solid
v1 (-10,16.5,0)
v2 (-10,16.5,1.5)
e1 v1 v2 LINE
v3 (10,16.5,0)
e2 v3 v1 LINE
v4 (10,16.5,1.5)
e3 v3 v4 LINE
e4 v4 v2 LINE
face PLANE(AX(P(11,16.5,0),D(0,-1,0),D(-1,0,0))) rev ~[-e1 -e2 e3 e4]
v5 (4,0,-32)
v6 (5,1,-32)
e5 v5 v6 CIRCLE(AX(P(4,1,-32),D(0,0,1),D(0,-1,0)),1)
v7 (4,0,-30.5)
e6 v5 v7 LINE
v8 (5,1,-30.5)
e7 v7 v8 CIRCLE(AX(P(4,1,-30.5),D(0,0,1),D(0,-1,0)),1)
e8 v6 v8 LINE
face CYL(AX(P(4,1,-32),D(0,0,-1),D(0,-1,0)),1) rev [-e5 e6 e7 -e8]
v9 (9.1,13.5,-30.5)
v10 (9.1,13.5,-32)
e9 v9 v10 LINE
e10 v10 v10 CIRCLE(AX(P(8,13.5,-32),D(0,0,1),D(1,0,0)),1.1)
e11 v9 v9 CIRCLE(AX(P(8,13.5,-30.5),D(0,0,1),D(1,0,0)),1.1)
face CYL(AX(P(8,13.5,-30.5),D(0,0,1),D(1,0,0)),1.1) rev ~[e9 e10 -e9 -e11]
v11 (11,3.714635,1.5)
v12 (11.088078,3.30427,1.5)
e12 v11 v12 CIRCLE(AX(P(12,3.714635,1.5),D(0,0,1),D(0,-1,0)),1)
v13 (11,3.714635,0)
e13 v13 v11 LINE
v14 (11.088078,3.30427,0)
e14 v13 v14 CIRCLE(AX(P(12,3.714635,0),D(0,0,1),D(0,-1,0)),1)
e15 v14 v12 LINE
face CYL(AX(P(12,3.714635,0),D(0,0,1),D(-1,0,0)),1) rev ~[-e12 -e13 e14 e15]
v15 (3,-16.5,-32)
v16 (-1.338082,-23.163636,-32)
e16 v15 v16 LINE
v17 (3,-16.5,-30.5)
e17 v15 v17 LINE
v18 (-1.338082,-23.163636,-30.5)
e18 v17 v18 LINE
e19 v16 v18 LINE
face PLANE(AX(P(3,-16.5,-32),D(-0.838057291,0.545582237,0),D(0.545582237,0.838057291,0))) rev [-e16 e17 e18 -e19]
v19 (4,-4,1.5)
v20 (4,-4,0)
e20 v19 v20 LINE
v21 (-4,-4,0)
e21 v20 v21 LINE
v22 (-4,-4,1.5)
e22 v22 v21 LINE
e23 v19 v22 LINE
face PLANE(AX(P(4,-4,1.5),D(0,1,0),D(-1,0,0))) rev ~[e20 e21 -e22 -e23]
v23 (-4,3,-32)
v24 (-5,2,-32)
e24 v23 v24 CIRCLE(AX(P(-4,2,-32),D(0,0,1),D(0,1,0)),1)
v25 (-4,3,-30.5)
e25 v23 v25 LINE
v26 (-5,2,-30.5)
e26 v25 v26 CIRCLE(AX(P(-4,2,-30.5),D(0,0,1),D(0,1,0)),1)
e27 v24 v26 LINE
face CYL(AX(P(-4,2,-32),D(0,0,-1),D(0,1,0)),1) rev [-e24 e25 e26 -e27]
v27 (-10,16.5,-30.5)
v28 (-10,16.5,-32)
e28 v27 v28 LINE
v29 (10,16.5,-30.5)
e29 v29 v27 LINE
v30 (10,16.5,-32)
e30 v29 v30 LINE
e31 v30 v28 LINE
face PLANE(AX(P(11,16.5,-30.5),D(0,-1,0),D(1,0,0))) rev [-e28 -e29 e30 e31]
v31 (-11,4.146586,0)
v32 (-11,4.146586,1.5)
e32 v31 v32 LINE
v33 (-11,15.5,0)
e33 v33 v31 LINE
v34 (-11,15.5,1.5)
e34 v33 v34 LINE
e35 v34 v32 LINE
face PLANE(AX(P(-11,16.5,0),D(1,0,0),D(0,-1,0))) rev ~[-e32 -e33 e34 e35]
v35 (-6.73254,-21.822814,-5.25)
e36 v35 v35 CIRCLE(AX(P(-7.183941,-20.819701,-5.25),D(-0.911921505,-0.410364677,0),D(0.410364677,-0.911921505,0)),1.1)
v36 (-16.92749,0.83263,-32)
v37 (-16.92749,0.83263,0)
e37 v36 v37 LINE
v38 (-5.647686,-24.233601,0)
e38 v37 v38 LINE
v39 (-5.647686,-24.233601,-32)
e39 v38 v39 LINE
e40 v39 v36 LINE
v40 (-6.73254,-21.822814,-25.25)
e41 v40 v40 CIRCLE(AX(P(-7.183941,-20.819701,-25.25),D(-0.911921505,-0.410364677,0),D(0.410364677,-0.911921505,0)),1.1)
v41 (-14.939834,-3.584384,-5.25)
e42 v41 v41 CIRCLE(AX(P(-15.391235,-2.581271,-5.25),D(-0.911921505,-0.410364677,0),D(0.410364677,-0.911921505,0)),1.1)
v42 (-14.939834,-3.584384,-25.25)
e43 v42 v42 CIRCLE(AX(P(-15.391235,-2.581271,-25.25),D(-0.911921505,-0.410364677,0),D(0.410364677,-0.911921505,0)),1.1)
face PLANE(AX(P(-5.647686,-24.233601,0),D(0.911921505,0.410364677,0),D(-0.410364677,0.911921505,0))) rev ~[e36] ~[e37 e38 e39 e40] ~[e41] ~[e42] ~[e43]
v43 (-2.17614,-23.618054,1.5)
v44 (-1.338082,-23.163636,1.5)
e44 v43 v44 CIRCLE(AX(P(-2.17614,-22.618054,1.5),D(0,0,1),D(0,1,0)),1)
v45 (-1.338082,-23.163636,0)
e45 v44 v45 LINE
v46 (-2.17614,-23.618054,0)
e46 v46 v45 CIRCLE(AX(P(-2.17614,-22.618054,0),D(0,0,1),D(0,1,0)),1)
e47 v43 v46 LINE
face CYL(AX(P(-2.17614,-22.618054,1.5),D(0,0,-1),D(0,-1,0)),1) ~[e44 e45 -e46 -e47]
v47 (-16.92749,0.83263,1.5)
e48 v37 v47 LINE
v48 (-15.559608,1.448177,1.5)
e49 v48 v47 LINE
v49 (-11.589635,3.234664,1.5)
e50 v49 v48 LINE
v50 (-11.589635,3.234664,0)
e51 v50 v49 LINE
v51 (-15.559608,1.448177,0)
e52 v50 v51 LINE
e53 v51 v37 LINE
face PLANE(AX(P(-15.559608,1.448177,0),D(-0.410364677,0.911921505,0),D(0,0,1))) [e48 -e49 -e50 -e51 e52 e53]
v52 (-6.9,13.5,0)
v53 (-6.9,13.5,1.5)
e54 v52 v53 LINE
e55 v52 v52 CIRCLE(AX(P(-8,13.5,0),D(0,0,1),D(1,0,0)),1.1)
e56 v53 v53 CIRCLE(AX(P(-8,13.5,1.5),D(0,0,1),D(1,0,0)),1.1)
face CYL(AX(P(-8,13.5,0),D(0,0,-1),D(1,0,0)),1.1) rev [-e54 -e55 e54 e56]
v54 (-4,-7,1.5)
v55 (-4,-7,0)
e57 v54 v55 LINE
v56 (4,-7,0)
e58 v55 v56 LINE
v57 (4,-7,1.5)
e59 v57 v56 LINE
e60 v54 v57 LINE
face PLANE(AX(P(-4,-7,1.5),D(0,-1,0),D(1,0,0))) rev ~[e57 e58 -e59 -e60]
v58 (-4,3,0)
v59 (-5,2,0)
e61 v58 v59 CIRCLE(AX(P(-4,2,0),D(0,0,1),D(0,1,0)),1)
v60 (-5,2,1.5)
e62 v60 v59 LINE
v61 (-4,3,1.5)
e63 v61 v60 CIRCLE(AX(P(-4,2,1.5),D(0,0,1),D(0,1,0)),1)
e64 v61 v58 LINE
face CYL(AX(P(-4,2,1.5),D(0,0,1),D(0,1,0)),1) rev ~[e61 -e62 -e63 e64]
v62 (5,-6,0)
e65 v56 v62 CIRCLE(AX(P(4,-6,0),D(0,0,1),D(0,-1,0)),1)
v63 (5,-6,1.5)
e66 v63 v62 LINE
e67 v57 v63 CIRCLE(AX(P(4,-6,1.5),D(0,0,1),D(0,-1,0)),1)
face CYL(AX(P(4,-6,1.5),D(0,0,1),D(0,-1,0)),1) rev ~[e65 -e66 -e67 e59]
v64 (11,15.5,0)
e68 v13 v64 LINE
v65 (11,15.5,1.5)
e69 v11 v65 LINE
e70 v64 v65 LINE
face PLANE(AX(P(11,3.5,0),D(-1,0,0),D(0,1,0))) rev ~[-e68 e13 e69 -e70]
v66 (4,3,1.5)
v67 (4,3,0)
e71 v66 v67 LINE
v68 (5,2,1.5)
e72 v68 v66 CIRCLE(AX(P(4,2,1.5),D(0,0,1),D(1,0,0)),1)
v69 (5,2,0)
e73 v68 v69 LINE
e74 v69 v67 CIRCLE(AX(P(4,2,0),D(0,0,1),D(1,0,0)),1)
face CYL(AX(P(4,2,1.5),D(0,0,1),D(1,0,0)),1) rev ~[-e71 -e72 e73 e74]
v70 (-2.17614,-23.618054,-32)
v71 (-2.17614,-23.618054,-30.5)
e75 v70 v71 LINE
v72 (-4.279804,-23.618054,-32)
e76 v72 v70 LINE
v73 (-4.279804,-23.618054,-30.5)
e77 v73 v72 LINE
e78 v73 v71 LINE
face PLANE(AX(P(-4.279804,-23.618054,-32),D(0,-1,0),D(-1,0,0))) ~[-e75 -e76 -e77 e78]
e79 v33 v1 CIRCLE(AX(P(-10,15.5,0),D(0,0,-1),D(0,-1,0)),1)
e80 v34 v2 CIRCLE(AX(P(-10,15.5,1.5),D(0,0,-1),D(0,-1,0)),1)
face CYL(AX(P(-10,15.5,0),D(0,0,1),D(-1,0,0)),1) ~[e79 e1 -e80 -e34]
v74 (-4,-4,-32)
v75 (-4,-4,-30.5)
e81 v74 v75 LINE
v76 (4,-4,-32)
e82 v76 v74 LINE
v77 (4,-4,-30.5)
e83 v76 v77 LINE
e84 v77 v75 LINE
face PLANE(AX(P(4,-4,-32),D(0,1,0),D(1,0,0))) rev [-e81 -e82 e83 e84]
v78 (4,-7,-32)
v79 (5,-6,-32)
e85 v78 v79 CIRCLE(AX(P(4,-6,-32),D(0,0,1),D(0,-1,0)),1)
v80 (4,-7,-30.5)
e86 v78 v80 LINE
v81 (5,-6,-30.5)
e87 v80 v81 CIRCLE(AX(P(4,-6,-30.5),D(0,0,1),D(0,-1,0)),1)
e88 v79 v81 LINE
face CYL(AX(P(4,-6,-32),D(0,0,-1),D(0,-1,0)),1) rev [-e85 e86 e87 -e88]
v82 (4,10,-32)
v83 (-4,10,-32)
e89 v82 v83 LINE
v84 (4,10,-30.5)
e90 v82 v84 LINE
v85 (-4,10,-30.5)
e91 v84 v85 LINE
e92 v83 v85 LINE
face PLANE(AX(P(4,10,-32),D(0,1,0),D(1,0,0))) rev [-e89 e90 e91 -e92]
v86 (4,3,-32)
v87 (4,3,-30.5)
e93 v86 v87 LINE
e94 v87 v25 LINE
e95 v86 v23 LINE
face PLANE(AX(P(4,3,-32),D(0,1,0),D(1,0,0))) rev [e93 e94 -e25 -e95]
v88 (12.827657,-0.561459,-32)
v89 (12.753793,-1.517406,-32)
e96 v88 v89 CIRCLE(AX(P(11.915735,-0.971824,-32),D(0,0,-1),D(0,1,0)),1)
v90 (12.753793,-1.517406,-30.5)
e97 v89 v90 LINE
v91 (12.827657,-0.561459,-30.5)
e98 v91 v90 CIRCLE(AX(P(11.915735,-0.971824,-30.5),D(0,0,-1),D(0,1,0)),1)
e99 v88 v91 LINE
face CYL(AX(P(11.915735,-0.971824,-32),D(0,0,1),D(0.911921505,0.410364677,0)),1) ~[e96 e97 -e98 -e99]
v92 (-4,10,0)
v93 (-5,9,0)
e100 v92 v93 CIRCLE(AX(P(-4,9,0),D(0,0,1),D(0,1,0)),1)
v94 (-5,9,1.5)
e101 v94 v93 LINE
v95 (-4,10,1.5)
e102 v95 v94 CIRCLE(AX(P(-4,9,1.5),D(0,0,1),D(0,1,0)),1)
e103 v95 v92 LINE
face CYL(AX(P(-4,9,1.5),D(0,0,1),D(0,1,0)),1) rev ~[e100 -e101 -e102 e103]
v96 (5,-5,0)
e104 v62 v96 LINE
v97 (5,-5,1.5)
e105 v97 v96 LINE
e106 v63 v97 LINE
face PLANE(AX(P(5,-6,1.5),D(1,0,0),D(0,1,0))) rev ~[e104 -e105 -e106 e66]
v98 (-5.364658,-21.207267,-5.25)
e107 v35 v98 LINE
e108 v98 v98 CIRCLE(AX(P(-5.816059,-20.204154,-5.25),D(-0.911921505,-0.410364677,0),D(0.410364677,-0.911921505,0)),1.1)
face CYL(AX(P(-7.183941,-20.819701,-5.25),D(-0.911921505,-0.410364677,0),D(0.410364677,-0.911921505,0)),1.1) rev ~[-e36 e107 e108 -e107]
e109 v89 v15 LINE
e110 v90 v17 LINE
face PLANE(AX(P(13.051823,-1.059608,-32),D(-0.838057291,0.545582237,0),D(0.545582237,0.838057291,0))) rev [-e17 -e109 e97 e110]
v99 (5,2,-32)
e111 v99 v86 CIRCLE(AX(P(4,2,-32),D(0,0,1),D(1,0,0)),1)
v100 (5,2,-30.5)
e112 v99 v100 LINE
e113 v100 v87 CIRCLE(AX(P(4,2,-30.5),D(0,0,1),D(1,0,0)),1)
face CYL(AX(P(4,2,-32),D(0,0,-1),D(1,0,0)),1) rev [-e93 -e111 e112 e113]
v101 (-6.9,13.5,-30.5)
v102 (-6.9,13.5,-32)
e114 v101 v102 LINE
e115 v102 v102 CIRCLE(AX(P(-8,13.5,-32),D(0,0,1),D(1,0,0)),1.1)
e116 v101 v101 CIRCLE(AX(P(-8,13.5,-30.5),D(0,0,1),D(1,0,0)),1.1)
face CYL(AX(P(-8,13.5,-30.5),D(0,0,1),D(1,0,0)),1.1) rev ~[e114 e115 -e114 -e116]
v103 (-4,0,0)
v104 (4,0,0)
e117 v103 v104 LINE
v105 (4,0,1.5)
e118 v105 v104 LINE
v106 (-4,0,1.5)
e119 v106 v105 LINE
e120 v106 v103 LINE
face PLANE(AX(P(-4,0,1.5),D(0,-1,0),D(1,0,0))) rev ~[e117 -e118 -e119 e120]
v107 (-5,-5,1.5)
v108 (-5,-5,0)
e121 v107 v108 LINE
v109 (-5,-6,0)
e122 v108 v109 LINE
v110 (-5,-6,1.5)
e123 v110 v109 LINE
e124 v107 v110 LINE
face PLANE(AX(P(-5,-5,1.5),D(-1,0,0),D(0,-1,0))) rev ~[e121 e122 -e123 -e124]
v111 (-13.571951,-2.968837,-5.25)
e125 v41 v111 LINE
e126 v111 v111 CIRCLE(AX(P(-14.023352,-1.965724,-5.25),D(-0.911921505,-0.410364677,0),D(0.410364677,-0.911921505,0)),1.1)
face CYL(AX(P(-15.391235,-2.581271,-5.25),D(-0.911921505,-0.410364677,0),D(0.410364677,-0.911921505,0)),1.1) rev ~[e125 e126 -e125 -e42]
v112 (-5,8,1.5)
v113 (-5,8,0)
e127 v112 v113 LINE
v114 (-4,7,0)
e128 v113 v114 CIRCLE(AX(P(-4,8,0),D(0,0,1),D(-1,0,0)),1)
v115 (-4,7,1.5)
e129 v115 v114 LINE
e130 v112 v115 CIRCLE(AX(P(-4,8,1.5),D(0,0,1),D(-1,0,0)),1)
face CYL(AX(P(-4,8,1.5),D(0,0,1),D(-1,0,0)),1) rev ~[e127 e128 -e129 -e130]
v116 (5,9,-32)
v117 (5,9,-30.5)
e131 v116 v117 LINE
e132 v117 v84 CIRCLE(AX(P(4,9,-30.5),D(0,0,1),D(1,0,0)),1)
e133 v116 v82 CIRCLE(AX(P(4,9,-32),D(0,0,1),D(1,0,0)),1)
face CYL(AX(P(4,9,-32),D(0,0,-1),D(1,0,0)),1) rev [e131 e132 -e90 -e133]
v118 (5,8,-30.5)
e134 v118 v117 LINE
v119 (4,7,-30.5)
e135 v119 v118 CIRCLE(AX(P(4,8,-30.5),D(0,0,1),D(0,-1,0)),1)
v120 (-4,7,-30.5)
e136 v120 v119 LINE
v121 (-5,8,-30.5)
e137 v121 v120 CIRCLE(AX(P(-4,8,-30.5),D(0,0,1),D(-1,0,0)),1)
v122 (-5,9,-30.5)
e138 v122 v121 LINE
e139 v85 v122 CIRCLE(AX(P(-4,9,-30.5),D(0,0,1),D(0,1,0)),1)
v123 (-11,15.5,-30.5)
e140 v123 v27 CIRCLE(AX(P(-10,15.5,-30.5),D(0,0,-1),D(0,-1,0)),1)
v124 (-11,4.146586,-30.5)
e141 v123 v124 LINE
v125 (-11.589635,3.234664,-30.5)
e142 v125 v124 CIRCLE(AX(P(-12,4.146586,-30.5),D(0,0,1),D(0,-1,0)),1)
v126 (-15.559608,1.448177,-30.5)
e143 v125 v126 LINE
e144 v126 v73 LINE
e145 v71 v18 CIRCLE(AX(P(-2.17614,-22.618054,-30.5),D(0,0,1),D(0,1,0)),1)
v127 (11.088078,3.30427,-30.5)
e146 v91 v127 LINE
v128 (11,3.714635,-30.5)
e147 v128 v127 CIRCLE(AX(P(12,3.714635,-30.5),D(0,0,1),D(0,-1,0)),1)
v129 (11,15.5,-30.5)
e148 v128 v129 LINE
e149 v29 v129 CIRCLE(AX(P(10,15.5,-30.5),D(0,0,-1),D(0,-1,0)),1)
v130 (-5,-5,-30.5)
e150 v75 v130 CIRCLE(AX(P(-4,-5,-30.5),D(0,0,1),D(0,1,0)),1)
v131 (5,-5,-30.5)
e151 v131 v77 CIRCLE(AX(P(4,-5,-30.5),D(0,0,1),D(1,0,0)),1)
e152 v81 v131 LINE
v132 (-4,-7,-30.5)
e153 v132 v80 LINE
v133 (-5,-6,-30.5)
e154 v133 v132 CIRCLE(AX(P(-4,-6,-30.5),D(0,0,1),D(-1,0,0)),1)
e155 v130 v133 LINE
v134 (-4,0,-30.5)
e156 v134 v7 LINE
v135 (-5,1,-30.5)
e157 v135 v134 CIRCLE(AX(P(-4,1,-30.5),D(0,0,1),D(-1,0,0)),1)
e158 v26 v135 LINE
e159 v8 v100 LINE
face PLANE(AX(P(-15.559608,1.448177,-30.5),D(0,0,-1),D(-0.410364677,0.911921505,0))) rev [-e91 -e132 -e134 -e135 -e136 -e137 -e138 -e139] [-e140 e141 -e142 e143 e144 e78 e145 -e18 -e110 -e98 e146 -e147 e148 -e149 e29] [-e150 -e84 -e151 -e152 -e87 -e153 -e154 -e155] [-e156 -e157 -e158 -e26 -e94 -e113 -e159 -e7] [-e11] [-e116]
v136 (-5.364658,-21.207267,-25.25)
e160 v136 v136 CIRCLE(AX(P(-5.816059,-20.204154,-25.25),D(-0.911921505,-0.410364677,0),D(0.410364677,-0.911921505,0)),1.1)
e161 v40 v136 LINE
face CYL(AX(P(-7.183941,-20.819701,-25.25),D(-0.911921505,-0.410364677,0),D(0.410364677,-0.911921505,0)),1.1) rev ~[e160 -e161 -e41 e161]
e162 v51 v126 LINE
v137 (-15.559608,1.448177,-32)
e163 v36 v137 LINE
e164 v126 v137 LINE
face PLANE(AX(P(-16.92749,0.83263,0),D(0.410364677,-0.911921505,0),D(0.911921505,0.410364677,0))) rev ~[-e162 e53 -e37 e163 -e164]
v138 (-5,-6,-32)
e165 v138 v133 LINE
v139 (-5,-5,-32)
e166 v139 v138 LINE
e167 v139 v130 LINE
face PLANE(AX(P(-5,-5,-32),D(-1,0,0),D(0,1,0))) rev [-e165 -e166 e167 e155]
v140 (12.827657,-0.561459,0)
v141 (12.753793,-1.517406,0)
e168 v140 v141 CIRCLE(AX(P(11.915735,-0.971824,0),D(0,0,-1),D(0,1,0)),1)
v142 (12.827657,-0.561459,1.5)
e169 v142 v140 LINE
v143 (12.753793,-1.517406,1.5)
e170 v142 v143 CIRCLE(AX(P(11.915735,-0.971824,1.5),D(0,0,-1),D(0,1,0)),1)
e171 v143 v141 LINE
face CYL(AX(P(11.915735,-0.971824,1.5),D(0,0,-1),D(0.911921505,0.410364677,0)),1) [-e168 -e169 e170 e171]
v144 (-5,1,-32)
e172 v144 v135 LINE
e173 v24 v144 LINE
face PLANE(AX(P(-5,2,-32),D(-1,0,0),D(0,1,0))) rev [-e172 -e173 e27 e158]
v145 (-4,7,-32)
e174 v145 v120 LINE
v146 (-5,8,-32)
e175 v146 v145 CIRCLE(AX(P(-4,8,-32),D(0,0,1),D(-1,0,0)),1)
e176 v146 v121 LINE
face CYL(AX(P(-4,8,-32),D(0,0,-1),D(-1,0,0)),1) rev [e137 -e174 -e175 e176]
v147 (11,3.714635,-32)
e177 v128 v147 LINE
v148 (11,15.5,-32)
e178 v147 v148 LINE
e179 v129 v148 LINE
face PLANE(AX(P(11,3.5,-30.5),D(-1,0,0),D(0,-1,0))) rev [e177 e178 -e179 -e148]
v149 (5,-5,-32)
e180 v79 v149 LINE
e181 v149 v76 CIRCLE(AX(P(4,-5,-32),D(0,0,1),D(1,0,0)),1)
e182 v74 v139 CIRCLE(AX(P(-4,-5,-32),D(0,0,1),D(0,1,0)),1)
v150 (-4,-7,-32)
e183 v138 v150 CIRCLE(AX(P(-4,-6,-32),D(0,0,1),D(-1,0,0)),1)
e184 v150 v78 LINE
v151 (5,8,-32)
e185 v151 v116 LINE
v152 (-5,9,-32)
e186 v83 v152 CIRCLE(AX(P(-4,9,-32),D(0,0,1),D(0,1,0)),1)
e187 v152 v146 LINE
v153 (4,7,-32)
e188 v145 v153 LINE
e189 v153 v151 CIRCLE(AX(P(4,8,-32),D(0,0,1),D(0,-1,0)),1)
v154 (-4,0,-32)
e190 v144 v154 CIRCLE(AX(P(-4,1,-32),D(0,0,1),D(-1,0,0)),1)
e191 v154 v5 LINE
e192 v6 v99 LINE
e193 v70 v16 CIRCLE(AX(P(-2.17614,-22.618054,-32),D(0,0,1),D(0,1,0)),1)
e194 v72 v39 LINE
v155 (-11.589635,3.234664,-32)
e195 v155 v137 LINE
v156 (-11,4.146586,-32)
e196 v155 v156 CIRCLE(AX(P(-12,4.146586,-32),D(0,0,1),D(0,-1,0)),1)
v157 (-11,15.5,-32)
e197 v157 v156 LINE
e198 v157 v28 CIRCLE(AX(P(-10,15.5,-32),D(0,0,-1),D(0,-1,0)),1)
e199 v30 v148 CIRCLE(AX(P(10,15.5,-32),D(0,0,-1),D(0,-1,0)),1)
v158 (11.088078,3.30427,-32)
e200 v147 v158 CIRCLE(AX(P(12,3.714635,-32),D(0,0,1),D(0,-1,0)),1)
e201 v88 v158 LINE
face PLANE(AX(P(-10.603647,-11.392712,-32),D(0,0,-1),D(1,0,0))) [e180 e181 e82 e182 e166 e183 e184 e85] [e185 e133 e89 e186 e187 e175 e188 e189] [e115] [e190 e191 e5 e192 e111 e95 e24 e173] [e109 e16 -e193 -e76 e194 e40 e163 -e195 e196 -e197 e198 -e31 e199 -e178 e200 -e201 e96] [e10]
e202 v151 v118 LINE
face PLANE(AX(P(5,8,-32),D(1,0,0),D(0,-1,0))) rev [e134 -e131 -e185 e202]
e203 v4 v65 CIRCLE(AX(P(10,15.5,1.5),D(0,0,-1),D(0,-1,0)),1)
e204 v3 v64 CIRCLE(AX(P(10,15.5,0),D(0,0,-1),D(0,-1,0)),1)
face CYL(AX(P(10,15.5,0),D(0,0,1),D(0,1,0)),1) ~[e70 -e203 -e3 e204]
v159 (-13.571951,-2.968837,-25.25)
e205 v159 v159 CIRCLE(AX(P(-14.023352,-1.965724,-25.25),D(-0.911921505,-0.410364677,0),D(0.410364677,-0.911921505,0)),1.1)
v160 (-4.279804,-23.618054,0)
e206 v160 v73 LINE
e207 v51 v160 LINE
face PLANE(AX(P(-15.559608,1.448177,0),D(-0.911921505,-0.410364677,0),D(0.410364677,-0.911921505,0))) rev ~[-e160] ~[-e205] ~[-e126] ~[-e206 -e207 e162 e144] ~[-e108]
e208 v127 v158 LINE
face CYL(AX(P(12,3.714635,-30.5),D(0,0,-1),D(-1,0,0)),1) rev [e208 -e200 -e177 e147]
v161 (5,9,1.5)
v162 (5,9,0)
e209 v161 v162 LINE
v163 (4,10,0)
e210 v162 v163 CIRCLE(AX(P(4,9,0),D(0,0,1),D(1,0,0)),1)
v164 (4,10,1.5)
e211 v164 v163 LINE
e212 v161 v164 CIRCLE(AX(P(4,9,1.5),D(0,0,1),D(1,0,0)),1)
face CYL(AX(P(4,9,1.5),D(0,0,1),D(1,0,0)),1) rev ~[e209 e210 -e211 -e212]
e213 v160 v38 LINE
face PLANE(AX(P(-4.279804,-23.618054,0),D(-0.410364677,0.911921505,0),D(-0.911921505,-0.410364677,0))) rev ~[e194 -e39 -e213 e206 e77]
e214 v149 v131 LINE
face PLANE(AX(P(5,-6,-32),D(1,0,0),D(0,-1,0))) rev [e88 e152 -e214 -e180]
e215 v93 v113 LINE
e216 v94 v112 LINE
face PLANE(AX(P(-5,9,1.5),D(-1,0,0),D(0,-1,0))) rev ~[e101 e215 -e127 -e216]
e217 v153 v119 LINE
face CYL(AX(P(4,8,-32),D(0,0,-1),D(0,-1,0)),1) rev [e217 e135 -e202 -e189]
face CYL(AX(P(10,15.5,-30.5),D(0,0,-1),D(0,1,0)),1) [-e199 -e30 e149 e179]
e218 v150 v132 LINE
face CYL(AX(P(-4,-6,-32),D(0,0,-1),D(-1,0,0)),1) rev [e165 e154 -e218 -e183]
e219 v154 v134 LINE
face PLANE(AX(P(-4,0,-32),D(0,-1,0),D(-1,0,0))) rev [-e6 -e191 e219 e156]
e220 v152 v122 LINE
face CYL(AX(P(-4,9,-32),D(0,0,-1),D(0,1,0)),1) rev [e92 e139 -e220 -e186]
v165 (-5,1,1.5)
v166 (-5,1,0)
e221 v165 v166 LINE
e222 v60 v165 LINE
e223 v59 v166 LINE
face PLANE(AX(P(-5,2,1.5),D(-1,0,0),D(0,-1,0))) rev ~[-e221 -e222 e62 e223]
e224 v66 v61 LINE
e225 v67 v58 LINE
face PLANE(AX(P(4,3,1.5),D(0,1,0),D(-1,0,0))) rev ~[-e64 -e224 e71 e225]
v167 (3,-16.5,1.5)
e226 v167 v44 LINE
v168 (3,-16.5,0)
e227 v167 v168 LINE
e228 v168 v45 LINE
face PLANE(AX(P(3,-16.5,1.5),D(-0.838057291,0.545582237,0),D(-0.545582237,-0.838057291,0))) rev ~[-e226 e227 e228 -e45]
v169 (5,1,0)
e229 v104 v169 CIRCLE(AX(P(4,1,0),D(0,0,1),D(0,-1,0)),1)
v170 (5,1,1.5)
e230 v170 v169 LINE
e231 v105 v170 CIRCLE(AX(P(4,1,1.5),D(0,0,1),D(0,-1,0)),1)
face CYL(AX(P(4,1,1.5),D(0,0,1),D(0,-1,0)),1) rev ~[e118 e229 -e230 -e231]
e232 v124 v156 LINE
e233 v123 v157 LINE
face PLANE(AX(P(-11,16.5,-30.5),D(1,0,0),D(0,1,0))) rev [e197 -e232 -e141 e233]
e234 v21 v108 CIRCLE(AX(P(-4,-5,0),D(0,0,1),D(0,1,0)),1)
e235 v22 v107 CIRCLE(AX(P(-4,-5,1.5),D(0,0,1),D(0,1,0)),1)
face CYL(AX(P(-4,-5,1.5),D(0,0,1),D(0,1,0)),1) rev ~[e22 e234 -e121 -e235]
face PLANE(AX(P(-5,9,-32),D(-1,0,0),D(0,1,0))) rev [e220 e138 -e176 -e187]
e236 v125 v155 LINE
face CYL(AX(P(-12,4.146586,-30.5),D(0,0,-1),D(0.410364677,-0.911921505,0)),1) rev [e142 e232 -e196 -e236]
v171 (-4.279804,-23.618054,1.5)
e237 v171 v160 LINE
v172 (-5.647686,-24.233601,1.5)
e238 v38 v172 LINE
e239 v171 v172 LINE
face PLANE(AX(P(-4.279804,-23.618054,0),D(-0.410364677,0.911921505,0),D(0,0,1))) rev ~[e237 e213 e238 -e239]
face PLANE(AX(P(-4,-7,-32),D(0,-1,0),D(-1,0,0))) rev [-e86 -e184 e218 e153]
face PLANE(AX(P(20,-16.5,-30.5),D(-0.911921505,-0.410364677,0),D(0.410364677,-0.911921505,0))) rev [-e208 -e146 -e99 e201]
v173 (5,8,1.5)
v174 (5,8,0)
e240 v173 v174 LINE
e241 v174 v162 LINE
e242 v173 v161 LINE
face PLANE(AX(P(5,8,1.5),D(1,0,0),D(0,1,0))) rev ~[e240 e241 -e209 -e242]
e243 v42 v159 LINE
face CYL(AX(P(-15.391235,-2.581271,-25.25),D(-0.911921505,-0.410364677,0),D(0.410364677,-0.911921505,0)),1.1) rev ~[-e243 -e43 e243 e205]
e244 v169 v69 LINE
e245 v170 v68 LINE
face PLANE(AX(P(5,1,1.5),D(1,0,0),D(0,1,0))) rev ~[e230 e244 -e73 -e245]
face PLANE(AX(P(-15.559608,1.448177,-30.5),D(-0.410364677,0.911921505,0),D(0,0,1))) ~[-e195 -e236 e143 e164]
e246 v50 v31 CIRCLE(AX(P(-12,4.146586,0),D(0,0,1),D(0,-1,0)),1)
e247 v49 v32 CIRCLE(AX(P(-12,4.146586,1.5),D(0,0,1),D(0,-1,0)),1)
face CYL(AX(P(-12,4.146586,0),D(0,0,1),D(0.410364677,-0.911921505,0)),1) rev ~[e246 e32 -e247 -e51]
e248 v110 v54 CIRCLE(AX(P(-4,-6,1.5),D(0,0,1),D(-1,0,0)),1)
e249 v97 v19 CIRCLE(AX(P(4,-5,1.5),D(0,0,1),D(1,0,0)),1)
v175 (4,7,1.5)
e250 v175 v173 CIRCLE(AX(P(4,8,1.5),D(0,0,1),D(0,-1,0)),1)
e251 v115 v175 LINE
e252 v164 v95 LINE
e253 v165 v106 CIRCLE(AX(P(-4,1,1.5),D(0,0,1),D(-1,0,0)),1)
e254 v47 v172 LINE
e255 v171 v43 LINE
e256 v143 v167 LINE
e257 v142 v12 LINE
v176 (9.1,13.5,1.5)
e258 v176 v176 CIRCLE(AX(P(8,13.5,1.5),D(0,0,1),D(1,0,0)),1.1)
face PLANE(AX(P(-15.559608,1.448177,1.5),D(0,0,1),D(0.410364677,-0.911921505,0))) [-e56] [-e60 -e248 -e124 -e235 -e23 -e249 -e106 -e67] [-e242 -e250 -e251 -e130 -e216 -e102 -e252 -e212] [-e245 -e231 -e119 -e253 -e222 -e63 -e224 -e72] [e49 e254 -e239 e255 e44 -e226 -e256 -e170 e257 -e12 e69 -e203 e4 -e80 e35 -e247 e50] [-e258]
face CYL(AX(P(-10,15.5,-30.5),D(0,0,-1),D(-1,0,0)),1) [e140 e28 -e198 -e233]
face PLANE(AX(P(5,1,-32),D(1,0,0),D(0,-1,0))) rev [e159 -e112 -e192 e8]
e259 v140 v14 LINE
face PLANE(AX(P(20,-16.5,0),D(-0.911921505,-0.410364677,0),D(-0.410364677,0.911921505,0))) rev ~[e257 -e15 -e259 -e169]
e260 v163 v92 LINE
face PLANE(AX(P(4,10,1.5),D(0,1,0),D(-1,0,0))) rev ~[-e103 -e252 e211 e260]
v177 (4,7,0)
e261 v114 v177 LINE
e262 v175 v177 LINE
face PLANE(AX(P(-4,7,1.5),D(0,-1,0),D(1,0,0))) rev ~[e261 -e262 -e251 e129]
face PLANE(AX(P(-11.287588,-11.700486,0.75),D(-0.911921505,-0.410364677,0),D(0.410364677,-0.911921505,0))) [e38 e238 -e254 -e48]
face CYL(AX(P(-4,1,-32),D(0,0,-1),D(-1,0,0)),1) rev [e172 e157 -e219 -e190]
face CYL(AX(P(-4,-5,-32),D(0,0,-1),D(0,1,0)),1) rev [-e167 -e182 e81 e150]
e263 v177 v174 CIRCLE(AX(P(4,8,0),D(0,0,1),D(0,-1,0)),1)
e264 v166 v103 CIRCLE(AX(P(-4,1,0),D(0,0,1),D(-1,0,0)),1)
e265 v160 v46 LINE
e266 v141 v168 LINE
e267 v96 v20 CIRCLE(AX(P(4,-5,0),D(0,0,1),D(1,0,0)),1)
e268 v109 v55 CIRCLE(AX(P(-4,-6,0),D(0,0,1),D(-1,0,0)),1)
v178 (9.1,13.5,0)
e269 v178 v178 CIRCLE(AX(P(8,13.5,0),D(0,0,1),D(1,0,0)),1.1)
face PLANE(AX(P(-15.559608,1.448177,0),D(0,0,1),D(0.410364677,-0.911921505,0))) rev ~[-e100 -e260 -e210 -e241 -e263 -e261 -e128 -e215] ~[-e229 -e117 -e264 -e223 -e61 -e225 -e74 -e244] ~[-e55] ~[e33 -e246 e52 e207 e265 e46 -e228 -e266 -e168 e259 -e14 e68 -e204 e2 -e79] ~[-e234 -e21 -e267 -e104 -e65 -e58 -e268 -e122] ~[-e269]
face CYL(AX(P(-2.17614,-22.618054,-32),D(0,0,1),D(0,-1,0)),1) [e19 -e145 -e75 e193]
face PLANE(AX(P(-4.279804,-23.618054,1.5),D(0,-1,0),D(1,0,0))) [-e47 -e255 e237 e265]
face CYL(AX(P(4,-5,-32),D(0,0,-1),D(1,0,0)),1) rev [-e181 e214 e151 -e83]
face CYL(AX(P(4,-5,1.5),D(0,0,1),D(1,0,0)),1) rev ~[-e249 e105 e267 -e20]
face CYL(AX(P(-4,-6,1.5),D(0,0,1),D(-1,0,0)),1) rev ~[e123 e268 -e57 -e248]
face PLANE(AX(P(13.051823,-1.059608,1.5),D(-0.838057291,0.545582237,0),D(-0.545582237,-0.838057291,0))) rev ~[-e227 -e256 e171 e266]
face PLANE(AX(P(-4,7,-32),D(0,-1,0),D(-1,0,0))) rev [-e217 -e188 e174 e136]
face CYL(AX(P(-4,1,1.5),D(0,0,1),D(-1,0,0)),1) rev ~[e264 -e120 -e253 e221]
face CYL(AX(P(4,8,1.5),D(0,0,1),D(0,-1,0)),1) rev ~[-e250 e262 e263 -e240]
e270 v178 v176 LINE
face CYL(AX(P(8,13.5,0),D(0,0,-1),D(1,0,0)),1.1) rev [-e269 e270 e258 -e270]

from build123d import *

# Parameters (mm, degrees)
F0_R      = 1.1
F1_DEPTH  = 1.5
F3_DEPTH  = 1.5
F4_W      = 21.9317121995
F4_H      = 1.5
F5_DEPTH  = 5
F7_DEPTH  = 1.5
F9_DEPTH  = 1.5
F10_R     = 1
F11_W     = 27.487267755
F11_H     = 1.5
F12_DEPTH = 1.5
F14_DEPTH = 32
F17_R     = 1.1
F18_DEPTH = 1.5


with BuildPart() as f1:
    # F0 (on Top) → F1 (new body)
    with BuildSketch(Plane.XY):
        Polygon((11, 3.5), (11, 16.5), (-11, 16.5), (-11, 3.5), (-2, -16.5), (11, -16.5), align=None)
        with Locations((-8, 13.5)):
            Circle(F0_R, mode=Mode.SUBTRACT)
        with Locations((8, 13.5)):
            Circle(F0_R, mode=Mode.SUBTRACT)
        Polygon((20, -16.5), (11, 3.5), (11, -16.5), align=None)
    extrude(amount=F1_DEPTH)

    # F2 (on face) → F3 (cut, through all)
    with BuildSketch(Plane.XY.offset(1.5)):
        Polygon((13.0518233866, -1.0596075259), (3, -16.5), (20, -16.5), align=None)
        with BuildLine():
            Line((4, 10), (-4, 10))
            ThreePointArc((-4, 10), (-4.7071067812, 9.7071067812), (-5, 9))
            Line((-5, 9), (-5, 8))
            ThreePointArc((-5, 8), (-4.7071067812, 7.2928932188), (-4, 7))
            Line((-4, 7), (4, 7))
            ThreePointArc((4, 7), (4.7071067812, 7.2928932188), (5, 8))
            Line((5, 8), (5, 9))
            ThreePointArc((5, 9), (4.7071067812, 9.7071067812), (4, 10))
        make_face()
        with BuildLine():
            Line((4, 3), (-4, 3))
            ThreePointArc((-4, 3), (-4.7071067812, 2.7071067812), (-5, 2))
            Line((-5, 2), (-5, 1))
            ThreePointArc((-5, 1), (-4.7071067812, 0.2928932188), (-4, 0))
            Line((-4, 0), (4, 0))
            ThreePointArc((4, 0), (4.7071067812, 0.2928932188), (5, 1))
            Line((5, 1), (5, 2))
            ThreePointArc((5, 2), (4.7071067812, 2.7071067812), (4, 3))
        make_face()
        with BuildLine():
            Line((4, -4), (-4, -4))
            ThreePointArc((-4, -4), (-4.7071067812, -4.2928932188), (-5, -5))
            Line((-5, -5), (-5, -6))
            ThreePointArc((-5, -6), (-4.7071067812, -6.7071067812), (-4, -7))
            Line((-4, -7), (4, -7))
            ThreePointArc((4, -7), (4.7071067812, -6.7071067812), (5, -6))
            Line((5, -6), (5, -5))
            ThreePointArc((5, -5), (4.7071067812, -4.2928932188), (4, -4))
        make_face()
    extrude(amount=-F3_DEPTH, mode=Mode.SUBTRACT)

    # F4 (on face) → F5 (join)
    with BuildSketch(Plane(origin=(-7.8378378378, -3.527027027, 0), x_dir=(0.4103646773, -0.9119215052, 0), z_dir=(-0.9119215052, -0.4103646773, 0))):
        with Locations((3.260119381, 0.75)):
            Rectangle(F4_W, F4_H)
    extrude(amount=F5_DEPTH)

    # F6 (on face) → F7 (join)
    with BuildSketch(Plane.XY.offset(1.5)):
        Polygon((-2, -16.5), (-6.5596075259, -18.5518233866), (-4.2798037629, -23.618053971), (3, -23.618053971), (3, -16.5), align=None)
    extrude(amount=-F7_DEPTH)

    # F8 (on face) → F9 (cut, through all)
    with BuildSketch(Plane.XY.offset(1.5)):
        Polygon((3, -23.618053971), (3, -16.5), (-1.6339120908, -23.618053971), align=None)
    extrude(amount=-F9_DEPTH, mode=Mode.SUBTRACT)

    # F10
    f10_edges = [f1.edges().sort_by_distance(p)[0] for p in [
        (-11, 16.5, 0.75),
        (11, 16.5, 0.75),
        (-11, 3.5, 0.75),
        (-1.633912, -23.618054, 0.75),
        (13.051823, -1.059608, 0.75),
        (11, 3.5, 0.75),
    ]]
    fillet(f10_edges, radius=F10_R)

    # F11 (on face) → F12 (join)
    with BuildSketch(Plane(origin=(-12.3974453637, -5.5788504137, 0), x_dir=(0.4103646773, -0.9119215052, 0), z_dir=(-0.9119215052, -0.4103646773, 0))):
        with Locations((6.0378971588, 0.75)):
            Rectangle(F11_W, F11_H)
    extrude(amount=F12_DEPTH)

    # F13 (on face) → F14 (join)
    with BuildSketch(Plane(origin=(0, 0, 0), x_dir=(1, 0, 0), z_dir=(0, 0, -1))):
        Polygon((-15.5596075259, -1.4481766134), (-4.2798037629, 23.618053971), (-5.6476860207, 24.2336009869), (-16.9274897836, -0.8326295974), align=None)
    extrude(amount=F14_DEPTH)

    # F16: F1 across plane


with BuildPart() as f1_1:
    add(f1.part)
    add(f1.part.mirror(Plane.XY.offset(-15.25)))

    # F17 (on face) → F18 (cut, through all)
    with BuildSketch(Plane(origin=(-13.7653276215, -6.1943974297, 0), x_dir=(0.4103646773, -0.9119215052, 0), z_dir=(-0.9119215052, -0.4103646773, 0))):
        with Locations((-3.9621028412, -25.25)):
            Circle(F17_R)
        with Locations((16.0378971588, -25.25)):
            Circle(F17_R)
        with Locations((-3.9621028412, -5.25)):
            Circle(F17_R)
        with Locations((16.0378971588, -5.25)):
            Circle(F17_R)
    extrude(amount=-F18_DEPTH, mode=Mode.SUBTRACT)


solid = f1_1.part
